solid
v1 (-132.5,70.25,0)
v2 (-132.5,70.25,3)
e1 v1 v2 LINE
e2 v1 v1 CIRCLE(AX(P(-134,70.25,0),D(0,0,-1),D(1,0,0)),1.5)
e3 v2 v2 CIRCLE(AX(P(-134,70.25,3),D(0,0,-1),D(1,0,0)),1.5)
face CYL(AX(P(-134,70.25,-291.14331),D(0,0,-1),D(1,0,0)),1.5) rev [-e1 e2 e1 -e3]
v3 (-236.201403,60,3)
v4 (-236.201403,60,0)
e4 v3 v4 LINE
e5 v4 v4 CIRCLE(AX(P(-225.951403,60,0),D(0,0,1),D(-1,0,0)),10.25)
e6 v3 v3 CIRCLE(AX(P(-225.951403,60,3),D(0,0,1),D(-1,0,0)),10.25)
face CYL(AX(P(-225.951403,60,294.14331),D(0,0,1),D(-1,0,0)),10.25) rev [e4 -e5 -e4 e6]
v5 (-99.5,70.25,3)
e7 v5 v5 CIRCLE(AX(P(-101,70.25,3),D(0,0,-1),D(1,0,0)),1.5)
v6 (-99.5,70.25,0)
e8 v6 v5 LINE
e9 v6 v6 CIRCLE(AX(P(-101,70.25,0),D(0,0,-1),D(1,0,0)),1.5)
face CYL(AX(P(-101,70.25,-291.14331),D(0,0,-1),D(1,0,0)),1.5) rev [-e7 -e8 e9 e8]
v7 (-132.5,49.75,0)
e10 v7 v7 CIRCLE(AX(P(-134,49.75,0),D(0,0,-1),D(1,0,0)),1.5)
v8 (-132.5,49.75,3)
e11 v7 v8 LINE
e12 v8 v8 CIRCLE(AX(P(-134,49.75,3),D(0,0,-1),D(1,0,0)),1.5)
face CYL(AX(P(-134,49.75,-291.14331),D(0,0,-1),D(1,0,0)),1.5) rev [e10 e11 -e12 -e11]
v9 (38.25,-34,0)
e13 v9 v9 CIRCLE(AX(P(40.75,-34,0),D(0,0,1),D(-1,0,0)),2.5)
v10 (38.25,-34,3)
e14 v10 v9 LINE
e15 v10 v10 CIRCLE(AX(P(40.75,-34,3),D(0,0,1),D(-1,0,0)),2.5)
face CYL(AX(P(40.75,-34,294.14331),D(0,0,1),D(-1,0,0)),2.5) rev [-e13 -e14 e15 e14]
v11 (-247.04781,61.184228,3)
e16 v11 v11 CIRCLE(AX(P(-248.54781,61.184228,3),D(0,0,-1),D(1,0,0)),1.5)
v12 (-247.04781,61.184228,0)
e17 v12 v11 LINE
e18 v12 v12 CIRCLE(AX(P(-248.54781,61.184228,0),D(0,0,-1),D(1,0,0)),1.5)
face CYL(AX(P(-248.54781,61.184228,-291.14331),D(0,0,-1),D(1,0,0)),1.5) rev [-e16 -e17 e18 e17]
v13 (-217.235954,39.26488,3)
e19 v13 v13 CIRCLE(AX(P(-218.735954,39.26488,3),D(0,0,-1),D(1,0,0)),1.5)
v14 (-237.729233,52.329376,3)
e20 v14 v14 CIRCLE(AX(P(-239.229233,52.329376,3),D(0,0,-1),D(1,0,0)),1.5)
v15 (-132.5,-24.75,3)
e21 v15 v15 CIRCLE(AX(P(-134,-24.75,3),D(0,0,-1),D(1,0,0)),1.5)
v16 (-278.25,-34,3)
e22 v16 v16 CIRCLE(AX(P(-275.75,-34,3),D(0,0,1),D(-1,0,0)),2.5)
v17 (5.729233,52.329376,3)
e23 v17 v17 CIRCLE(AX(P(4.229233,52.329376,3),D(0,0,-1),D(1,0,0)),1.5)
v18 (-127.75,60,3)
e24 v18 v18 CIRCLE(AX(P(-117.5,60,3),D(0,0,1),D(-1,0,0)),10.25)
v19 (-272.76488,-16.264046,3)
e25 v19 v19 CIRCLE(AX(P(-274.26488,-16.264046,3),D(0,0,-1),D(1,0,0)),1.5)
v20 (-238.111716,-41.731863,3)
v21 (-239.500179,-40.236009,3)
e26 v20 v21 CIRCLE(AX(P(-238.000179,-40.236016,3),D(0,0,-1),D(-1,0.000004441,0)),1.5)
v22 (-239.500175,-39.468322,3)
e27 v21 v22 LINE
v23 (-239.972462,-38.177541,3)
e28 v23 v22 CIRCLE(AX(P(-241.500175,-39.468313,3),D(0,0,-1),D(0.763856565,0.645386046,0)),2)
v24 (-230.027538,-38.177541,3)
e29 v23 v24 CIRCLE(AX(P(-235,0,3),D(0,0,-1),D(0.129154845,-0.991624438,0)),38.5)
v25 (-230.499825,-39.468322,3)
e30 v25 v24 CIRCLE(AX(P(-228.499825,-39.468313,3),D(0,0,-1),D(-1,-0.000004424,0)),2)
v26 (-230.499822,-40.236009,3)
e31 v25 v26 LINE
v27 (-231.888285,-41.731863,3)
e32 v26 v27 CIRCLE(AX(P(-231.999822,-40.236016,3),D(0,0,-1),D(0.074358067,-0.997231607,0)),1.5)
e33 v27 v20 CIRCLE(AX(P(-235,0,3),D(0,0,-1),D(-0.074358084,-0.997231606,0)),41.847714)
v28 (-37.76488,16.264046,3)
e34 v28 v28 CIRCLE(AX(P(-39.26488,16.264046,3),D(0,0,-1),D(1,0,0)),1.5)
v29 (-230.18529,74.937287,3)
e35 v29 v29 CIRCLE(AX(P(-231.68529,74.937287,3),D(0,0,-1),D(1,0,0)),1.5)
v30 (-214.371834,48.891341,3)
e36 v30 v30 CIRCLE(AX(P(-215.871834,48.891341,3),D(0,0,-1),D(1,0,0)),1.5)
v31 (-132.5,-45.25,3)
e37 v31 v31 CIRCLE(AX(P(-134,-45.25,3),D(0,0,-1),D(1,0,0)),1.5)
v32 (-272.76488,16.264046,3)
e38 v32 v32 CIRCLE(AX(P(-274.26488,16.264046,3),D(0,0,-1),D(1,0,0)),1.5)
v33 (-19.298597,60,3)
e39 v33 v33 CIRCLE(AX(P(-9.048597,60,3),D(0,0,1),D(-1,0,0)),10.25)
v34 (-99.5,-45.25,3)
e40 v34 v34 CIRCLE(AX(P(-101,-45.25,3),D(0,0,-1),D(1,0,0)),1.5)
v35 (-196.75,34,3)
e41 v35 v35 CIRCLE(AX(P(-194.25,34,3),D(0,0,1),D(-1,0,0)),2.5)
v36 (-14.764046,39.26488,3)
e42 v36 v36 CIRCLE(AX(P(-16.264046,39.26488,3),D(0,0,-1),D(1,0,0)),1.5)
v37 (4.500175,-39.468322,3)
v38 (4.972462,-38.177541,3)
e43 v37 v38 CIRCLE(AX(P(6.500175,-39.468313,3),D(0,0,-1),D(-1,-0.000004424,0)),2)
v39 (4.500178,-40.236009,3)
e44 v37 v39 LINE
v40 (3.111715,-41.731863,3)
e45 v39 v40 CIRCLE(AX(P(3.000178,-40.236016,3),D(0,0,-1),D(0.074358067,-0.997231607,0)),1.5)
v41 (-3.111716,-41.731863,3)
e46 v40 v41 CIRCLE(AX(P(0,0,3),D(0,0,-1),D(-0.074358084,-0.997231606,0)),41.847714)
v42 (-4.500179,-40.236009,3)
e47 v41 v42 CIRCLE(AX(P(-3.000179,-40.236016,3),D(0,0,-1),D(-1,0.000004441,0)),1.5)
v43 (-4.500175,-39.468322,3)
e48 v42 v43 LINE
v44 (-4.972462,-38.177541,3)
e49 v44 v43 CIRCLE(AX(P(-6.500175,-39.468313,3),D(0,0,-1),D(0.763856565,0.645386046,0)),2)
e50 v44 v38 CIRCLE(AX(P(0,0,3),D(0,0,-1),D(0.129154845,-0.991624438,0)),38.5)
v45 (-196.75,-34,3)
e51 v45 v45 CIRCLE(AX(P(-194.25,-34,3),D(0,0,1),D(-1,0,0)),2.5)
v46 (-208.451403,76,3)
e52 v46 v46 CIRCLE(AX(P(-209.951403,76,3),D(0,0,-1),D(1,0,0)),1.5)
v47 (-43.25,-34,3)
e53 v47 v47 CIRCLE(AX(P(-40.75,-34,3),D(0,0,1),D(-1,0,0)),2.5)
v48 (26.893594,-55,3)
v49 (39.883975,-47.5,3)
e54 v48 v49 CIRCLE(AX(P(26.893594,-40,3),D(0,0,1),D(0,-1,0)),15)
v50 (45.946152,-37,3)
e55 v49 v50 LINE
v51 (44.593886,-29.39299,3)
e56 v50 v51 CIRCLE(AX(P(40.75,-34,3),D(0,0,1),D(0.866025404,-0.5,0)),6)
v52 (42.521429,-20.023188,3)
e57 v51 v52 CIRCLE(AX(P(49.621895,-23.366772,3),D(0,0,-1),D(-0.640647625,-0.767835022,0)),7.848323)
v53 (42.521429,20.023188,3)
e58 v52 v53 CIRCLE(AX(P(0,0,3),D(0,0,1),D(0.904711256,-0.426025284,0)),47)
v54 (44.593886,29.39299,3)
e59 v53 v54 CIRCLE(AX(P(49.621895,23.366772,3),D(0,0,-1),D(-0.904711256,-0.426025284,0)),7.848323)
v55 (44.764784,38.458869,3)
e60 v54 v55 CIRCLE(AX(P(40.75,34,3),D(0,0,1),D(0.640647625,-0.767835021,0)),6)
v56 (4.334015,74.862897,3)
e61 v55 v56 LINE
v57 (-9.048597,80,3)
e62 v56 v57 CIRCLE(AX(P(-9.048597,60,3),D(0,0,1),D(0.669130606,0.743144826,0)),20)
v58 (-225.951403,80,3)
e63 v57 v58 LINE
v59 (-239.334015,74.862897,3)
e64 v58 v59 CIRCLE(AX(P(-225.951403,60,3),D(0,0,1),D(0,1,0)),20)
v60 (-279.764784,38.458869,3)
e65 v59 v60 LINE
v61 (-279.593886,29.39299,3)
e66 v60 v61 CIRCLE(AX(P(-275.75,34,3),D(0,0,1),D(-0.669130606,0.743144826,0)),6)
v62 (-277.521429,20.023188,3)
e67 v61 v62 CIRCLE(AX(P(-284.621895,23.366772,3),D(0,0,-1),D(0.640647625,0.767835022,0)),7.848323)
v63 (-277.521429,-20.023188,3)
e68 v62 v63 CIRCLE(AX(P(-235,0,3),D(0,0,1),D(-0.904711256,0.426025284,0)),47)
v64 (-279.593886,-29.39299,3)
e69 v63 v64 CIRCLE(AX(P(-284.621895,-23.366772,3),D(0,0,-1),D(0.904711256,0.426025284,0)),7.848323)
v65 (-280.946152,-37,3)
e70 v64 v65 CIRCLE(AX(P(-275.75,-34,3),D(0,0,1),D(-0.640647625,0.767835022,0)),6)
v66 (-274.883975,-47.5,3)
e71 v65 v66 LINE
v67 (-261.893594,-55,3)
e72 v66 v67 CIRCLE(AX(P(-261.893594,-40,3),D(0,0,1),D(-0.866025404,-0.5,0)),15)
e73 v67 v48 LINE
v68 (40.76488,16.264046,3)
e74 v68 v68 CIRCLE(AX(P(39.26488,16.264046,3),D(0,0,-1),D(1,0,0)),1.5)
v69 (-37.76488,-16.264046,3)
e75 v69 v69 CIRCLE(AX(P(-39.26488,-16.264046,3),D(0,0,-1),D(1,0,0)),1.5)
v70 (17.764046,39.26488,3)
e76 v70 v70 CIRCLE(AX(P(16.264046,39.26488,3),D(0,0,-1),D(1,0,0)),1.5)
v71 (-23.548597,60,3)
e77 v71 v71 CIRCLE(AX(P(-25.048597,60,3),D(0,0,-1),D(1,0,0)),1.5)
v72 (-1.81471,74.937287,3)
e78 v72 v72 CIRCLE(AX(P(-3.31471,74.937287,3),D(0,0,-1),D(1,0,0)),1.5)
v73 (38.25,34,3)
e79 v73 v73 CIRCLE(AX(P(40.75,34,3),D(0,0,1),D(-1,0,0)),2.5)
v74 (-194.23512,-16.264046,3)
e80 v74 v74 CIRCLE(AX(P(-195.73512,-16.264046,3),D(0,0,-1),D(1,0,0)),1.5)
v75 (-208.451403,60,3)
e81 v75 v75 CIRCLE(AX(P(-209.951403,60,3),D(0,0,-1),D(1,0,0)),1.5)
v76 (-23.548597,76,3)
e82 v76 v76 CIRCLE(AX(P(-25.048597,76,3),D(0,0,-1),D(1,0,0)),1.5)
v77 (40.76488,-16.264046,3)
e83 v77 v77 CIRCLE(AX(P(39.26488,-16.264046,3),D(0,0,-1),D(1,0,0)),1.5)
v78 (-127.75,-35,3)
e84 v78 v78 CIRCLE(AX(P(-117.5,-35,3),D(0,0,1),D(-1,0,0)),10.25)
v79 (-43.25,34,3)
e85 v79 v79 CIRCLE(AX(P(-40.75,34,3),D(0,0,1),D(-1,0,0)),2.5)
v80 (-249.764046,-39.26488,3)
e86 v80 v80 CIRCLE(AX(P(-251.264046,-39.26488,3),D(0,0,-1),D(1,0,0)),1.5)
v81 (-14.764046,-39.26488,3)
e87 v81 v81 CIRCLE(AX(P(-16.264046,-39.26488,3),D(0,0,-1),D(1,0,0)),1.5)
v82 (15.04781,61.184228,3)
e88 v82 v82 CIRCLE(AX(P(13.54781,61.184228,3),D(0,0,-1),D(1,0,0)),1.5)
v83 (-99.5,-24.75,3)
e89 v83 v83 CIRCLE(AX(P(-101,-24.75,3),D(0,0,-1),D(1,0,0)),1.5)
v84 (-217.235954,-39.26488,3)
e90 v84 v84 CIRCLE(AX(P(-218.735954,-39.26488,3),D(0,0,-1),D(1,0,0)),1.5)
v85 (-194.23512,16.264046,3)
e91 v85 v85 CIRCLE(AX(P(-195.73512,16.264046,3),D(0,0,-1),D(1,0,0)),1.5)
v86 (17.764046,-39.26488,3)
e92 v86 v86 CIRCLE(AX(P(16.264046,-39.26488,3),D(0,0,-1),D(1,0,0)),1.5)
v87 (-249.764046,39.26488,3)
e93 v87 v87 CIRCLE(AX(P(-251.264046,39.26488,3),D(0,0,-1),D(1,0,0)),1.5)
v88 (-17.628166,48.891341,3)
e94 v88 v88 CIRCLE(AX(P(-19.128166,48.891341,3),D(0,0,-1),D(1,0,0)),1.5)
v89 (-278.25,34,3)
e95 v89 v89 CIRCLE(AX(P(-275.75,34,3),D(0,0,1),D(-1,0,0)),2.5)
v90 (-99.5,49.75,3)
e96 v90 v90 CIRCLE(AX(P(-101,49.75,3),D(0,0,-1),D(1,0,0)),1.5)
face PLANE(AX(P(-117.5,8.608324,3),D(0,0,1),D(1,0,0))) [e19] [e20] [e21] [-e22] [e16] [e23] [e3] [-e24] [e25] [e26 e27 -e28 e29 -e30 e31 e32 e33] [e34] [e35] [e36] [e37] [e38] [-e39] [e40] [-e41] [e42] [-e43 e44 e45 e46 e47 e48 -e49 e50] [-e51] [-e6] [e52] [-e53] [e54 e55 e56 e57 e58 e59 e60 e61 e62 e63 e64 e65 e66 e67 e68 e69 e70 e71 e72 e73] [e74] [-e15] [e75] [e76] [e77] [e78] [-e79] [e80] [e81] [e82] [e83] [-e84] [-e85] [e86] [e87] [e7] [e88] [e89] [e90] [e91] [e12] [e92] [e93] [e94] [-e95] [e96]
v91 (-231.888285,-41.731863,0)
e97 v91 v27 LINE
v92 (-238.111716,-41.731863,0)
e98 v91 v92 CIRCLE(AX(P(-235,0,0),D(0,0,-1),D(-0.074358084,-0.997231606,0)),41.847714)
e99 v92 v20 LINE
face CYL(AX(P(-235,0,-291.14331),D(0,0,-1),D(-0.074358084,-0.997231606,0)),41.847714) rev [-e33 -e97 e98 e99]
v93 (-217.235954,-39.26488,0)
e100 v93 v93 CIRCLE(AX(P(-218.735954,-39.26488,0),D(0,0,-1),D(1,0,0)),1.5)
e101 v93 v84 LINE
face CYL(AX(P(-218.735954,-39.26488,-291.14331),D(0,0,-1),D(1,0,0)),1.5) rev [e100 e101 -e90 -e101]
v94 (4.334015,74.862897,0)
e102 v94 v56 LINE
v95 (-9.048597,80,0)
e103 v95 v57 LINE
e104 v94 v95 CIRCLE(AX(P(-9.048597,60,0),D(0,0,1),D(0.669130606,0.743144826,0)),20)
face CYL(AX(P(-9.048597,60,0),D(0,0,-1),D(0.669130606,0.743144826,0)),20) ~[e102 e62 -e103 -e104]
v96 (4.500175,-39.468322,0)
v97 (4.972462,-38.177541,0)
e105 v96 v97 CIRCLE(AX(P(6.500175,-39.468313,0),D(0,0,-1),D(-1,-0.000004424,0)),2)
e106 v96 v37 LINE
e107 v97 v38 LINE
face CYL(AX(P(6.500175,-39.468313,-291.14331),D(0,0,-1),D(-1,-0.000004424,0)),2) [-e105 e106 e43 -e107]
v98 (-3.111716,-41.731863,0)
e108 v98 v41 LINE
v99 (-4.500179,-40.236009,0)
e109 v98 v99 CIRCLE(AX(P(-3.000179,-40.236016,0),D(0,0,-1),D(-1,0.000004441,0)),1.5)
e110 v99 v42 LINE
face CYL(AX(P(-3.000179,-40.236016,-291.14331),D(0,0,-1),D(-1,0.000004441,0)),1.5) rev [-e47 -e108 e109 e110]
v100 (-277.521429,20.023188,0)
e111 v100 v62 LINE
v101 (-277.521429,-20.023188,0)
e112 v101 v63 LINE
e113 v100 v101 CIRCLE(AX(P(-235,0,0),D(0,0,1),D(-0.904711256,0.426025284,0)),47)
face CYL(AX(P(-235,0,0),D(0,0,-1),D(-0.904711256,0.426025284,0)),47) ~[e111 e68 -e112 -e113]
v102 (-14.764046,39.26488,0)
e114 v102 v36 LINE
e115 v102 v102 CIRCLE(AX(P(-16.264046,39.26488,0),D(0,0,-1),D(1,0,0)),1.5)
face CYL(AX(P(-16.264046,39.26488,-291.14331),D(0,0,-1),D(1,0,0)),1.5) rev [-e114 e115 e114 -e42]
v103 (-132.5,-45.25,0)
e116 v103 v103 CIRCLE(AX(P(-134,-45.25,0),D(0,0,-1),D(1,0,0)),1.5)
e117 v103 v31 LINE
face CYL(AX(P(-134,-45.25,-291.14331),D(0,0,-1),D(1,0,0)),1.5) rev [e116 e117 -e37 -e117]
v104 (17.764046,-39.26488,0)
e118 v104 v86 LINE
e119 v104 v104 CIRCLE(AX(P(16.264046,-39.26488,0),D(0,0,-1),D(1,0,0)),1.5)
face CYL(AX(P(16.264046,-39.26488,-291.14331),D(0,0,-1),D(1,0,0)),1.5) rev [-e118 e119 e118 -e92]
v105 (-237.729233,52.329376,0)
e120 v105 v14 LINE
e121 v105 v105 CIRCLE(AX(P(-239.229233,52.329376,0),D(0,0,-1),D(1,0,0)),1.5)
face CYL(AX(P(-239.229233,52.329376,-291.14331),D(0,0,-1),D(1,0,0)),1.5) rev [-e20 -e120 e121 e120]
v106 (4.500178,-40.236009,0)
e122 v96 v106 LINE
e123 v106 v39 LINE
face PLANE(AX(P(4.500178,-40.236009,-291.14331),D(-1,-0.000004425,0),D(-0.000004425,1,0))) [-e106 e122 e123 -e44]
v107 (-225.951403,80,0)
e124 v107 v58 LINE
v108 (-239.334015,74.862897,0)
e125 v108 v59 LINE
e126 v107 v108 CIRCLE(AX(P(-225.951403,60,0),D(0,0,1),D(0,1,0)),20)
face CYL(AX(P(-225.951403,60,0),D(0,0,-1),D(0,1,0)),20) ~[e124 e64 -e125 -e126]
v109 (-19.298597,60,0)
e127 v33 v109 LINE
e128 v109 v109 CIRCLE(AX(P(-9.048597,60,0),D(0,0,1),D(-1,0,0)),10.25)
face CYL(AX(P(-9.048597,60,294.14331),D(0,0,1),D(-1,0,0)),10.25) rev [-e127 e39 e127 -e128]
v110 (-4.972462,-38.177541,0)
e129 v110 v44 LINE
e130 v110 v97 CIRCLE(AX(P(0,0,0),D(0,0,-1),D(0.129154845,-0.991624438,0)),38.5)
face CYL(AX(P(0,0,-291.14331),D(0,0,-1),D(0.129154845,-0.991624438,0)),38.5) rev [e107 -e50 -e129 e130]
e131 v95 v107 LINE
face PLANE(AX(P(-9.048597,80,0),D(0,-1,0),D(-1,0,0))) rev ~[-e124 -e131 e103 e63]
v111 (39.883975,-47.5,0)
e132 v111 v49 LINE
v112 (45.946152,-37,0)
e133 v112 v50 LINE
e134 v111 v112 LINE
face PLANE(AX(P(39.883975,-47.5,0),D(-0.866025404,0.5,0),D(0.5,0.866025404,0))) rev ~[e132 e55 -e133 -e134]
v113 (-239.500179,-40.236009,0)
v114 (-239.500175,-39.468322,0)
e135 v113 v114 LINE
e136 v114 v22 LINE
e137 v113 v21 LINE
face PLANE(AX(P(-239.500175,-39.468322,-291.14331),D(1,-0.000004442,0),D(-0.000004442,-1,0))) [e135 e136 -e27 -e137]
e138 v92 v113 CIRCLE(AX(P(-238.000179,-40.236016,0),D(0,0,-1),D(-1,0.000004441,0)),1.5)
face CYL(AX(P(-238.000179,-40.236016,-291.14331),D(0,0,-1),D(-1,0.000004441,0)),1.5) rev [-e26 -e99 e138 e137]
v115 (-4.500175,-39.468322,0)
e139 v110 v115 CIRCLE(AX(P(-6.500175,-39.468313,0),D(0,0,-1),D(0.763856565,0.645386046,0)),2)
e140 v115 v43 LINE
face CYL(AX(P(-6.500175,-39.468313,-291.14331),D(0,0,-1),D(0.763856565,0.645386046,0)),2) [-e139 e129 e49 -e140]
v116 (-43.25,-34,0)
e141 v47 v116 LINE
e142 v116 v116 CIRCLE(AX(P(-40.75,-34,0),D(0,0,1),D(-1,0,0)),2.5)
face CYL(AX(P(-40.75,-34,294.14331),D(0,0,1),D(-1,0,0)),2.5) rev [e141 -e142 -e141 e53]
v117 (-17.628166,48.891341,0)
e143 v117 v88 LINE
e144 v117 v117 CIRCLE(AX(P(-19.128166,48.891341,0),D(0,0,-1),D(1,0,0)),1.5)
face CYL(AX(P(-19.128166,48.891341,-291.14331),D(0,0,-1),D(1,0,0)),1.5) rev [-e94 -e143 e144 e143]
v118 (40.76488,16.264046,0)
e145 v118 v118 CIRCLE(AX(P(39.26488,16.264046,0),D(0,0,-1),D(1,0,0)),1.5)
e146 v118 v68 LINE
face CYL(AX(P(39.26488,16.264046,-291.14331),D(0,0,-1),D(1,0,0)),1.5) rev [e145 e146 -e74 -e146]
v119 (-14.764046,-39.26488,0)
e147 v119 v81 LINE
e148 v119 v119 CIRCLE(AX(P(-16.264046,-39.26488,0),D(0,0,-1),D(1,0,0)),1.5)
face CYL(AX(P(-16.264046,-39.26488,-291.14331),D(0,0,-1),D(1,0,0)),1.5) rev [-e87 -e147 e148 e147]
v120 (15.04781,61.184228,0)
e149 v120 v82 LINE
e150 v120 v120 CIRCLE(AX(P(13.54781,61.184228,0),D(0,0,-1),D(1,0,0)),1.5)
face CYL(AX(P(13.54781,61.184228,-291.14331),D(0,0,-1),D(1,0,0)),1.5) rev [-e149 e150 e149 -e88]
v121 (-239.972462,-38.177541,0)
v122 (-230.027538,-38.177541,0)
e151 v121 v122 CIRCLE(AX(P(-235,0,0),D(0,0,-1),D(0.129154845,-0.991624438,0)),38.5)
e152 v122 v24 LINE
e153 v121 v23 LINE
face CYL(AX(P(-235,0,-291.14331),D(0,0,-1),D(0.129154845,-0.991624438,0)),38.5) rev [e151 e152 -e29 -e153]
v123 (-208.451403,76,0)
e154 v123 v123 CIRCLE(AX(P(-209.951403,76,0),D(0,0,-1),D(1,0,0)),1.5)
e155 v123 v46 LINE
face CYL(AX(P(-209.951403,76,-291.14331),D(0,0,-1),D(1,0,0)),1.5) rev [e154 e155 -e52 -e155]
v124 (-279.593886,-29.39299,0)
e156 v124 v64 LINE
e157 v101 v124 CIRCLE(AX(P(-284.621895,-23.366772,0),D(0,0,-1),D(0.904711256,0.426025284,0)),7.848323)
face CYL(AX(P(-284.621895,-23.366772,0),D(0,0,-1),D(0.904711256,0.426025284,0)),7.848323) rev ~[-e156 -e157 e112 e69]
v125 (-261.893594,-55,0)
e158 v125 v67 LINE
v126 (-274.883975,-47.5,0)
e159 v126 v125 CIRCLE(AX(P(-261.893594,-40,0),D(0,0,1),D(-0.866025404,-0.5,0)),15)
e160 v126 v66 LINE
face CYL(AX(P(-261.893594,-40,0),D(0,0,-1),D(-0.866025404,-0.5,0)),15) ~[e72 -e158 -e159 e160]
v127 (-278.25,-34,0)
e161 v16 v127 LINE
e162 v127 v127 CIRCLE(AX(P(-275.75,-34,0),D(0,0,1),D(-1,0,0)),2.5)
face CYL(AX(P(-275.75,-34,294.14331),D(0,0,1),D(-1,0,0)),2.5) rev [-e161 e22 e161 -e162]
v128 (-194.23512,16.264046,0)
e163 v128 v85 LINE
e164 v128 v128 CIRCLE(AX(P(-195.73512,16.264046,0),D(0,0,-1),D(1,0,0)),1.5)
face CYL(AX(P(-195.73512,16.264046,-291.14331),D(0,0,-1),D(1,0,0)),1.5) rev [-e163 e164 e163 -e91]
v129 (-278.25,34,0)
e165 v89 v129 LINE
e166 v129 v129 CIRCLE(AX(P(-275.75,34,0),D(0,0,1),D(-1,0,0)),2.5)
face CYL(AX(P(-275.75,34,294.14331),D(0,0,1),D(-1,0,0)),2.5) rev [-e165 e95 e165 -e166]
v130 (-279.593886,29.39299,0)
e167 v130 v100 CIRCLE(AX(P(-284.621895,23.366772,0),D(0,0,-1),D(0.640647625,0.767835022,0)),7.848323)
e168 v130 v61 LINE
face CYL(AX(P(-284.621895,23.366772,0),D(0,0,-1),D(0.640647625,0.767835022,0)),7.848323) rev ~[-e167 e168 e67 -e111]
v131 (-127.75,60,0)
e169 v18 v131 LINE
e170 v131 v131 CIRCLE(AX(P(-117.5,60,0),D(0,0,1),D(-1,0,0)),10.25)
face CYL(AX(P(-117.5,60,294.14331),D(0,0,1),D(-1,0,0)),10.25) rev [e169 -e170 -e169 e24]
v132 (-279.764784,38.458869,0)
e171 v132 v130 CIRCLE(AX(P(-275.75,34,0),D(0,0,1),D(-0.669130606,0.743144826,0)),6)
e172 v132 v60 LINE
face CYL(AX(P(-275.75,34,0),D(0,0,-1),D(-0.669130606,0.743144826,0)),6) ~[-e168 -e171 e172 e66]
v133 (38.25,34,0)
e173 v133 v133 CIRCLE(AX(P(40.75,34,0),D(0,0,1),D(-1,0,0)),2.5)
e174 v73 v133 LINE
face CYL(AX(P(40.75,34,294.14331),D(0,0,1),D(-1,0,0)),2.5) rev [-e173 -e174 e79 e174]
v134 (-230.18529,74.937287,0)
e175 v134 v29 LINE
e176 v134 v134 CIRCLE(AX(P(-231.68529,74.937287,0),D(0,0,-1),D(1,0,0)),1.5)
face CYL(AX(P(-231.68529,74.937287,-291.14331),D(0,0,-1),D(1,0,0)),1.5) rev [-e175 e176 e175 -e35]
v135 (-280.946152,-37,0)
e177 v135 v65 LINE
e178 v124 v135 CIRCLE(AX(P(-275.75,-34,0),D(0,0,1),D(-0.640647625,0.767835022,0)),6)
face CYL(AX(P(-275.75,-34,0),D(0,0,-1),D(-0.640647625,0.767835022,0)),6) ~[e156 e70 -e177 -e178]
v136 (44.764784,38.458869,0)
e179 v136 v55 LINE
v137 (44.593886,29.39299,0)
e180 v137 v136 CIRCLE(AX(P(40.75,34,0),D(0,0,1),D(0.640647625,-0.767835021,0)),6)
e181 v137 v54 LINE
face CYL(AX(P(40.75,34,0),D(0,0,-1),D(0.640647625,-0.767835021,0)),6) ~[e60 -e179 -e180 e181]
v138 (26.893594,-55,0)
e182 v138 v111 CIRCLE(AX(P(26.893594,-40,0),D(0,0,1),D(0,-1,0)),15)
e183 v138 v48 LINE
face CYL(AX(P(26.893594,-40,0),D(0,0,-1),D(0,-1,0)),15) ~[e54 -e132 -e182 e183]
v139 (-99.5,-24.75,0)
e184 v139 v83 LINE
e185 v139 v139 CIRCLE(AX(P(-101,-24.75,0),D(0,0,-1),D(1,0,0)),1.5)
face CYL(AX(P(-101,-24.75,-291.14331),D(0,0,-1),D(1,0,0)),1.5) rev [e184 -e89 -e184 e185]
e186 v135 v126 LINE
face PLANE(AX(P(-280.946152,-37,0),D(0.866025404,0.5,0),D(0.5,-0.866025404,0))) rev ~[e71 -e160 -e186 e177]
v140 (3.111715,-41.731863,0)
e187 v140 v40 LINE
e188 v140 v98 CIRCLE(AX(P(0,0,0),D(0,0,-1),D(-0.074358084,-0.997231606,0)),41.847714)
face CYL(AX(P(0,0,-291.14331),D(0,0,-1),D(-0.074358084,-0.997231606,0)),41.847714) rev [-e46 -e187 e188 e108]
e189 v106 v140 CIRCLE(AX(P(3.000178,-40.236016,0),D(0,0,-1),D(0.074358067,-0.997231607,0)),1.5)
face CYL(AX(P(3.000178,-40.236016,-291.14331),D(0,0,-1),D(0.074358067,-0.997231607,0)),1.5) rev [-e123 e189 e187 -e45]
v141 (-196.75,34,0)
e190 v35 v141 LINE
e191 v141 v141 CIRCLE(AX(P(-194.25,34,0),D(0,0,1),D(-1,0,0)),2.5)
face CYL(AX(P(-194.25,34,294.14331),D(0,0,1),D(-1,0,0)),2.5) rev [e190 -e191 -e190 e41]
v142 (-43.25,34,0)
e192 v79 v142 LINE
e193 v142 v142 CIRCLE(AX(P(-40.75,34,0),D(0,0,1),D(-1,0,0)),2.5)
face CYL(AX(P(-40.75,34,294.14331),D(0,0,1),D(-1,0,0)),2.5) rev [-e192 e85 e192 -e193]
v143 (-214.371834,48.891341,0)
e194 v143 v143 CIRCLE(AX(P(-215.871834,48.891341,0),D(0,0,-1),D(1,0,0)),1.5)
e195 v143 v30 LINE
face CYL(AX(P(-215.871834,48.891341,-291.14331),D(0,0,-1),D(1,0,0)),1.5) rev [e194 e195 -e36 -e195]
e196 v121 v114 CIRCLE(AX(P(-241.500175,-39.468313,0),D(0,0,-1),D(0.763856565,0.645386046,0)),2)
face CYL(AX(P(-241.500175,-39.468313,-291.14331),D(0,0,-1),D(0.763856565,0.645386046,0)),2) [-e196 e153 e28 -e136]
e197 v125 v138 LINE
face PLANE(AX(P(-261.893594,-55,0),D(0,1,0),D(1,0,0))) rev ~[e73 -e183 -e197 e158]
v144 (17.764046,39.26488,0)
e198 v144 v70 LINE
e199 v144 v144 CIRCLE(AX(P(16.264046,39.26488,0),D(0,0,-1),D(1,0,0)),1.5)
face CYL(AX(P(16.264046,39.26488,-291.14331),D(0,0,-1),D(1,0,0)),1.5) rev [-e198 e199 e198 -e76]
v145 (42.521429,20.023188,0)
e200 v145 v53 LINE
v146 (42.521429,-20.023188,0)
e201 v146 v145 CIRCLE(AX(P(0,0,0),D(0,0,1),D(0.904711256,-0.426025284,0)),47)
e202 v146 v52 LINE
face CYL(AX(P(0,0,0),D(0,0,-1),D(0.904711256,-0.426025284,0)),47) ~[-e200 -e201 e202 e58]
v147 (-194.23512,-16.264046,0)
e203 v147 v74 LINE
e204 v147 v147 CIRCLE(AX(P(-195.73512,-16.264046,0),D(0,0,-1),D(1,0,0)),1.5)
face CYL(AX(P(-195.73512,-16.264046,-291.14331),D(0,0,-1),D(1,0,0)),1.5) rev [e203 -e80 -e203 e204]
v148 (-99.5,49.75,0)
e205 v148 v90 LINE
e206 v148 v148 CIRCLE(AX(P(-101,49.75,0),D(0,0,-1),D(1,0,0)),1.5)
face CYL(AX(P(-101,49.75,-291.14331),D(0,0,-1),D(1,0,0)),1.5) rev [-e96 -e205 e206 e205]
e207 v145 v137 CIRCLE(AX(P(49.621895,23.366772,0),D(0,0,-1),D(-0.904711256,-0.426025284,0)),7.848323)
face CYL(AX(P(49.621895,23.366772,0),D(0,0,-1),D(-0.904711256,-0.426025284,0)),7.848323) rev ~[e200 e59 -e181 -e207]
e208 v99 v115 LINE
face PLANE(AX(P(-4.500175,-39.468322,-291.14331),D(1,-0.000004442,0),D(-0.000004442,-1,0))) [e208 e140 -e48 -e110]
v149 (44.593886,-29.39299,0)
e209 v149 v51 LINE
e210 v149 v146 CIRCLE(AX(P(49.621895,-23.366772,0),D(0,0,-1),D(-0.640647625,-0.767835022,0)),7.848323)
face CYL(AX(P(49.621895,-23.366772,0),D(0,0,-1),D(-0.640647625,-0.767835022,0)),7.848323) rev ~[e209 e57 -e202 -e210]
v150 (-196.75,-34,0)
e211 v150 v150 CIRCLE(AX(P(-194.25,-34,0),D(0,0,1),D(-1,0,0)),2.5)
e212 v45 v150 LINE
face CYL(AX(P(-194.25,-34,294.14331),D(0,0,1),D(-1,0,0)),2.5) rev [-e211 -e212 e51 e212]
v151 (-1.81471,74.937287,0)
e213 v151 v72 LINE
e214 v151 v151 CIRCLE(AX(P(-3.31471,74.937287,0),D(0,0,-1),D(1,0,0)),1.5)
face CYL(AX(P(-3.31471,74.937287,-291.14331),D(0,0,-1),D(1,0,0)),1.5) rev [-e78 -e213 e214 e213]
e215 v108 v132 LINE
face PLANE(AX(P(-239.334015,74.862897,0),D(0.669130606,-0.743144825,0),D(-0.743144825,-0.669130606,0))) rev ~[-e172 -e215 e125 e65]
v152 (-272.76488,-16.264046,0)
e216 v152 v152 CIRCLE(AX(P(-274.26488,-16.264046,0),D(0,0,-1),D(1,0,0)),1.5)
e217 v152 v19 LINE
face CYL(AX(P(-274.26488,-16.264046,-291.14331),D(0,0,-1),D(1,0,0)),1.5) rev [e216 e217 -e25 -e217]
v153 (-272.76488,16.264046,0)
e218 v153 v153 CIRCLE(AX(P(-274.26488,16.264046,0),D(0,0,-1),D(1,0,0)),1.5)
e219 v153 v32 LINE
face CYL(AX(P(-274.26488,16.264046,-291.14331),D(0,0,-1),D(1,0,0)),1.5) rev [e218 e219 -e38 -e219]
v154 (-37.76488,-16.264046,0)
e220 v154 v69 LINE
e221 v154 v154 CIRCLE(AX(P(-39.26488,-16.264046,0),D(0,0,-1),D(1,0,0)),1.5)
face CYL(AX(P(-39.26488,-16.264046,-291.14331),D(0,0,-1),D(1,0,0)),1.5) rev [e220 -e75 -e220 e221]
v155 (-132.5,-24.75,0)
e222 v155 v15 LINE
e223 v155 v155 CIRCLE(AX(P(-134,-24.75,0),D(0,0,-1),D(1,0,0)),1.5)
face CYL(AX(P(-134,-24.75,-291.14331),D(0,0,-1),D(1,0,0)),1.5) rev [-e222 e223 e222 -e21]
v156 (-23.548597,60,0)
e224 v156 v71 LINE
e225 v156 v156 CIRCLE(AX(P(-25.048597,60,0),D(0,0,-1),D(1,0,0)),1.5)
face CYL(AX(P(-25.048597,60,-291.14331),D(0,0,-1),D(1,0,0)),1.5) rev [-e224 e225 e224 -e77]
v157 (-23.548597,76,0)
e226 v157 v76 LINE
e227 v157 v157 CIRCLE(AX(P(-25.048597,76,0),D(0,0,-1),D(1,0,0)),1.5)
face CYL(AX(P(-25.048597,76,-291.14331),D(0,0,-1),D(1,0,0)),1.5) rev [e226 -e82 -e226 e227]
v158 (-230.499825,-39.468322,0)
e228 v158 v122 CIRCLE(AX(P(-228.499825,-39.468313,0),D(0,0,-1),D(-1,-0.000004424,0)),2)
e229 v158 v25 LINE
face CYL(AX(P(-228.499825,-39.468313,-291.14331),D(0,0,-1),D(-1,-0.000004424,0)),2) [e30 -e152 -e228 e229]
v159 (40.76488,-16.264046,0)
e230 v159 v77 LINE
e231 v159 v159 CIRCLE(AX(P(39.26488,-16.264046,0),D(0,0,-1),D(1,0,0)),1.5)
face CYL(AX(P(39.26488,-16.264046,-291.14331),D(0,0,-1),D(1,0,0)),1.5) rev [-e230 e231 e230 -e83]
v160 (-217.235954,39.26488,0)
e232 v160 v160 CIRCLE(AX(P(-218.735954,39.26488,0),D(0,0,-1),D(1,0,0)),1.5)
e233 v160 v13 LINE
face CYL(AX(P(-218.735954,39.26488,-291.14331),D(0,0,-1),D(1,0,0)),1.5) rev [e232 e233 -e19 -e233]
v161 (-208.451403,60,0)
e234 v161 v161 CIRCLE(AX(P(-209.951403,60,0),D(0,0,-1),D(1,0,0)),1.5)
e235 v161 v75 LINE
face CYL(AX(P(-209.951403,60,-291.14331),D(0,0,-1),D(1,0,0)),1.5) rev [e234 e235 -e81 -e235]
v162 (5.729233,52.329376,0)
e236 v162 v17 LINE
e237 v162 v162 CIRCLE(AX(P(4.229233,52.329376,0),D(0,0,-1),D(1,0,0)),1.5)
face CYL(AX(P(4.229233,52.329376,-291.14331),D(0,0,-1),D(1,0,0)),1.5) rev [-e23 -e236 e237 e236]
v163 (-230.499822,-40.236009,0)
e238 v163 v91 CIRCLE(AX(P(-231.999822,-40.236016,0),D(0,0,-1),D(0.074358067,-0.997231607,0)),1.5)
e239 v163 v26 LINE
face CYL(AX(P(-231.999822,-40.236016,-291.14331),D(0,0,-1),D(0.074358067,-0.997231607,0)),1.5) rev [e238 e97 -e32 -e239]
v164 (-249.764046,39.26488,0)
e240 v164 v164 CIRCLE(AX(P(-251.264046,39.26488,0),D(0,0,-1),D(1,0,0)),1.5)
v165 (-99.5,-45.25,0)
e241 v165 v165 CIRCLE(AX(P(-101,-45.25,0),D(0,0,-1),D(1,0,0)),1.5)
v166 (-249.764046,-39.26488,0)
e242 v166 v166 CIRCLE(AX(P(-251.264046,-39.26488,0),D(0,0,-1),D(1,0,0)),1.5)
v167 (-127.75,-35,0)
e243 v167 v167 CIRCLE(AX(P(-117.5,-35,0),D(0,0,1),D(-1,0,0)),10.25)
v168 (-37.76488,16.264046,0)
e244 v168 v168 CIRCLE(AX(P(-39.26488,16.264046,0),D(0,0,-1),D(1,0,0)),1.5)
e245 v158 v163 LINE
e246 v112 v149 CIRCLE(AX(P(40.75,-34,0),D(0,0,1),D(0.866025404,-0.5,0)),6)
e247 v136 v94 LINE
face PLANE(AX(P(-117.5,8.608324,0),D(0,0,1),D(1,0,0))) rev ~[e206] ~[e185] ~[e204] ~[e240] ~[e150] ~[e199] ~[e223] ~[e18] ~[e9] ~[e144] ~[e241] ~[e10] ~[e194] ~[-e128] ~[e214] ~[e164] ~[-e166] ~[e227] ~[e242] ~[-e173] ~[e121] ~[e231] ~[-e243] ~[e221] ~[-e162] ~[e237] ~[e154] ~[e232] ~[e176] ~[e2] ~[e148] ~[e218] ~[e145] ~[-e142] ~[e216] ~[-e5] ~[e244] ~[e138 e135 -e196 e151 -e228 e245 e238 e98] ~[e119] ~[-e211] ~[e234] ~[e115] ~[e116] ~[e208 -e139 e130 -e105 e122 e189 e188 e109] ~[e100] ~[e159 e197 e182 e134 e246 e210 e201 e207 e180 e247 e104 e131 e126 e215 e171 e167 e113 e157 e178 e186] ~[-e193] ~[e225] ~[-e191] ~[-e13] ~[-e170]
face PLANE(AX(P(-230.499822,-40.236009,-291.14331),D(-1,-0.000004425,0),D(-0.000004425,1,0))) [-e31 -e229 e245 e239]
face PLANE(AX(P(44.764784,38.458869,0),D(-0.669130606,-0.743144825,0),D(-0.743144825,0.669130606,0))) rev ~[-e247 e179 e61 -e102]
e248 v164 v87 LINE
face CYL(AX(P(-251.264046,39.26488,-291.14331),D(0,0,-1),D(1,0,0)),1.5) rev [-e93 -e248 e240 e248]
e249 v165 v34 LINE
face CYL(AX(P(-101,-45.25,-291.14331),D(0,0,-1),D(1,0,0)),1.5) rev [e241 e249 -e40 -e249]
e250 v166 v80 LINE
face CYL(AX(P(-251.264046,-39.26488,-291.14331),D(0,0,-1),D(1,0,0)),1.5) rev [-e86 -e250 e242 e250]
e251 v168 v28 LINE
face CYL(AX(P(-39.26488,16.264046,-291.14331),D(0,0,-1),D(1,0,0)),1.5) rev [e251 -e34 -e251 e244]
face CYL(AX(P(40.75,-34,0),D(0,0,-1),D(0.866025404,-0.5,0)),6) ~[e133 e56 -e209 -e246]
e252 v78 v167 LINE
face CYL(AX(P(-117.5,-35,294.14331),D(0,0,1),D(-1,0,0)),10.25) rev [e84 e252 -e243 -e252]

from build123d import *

# Parameters (mm, degrees)
SKETCH_1_R               = 23.74347741
EXTRUDE_1_DEPTH          = 3
CUT_EXTRUDE_1_DEPTH      = 294.143309663
CUT_EXTRUDE_1_DEPTH_BACK = 294.143309663
SKETCH_2_R               = 2.5
CUT_EXTRUDE_2_DEPTH      = 294.143309663
CUT_EXTRUDE_2_DEPTH_BACK = 294.143309663
SKETCH_3_R               = 1.5
CUT_EXTRUDE_3_DEPTH      = 294.143309663
CUT_EXTRUDE_3_DEPTH_BACK = 294.143309663
SKETCH_4_R               = 10.25
CUT_EXTRUDE_4_DEPTH      = 294.143309663
CUT_EXTRUDE_4_DEPTH_BACK = 294.143309663
SKETCH_5_R               = 1.5
CUT_EXTRUDE_5_DEPTH      = 294.143309663
CUT_EXTRUDE_5_DEPTH_BACK = 294.143309663
SKETCH_6_R               = 1.5
CUT_EXTRUDE_6_DEPTH      = 294.143309663
CUT_EXTRUDE_6_DEPTH_BACK = 294.143309663
SKETCH_7_R               = 1.5


with BuildPart() as part:
    # 草图1 → 凸台-拉伸1 (new body)
    with BuildSketch(Plane.XY):
        with BuildLine():
            Line((44.764783638, 38.458868953), (4.334015044, 74.86289651))
            ThreePointArc((4.334015044, 74.86289651), (-1.881238093, 78.67160853), (-9.048597084, 80))
            Line((-9.048597084, 80), (-225.951402916, 80))
            ThreePointArc((-225.951402916, 80), (-233.118761907, 78.67160853), (-239.334015044, 74.86289651))
            Line((-239.334015044, 74.86289651), (-279.764783638, 38.458868953))
            ThreePointArc((-279.764783638, 38.458868953), (-281.748934241, 33.886916076), (-279.593885752, 29.392989871))
            ThreePointArc((-279.593885752, 29.392989871), (-276.958783906, 25.06173547), (-277.521429039, 20.023188369))
            ThreePointArc((-277.521429039, 20.023188369), (-282, 0), (-277.521429039, -20.023188369))
            ThreePointArc((-277.521429039, -20.023188369), (-276.958783906, -25.06173547), (-279.593885752, -29.392989871))
            ThreePointArc((-279.593885752, -29.392989871), (-281.657387183, -32.949868258), (-280.946152423, -37))
            Line((-280.946152423, -37), (-274.883974596, -47.5))
            ThreePointArc((-274.883974596, -47.5), (-269.393593539, -52.990381057), (-261.893593539, -55))
            Line((-261.893593539, -55), (26.893593539, -55))
            ThreePointArc((26.893593539, -55), (34.393593539, -52.990381057), (39.883974596, -47.5))
            Line((39.883974596, -47.5), (45.946152423, -37))
            ThreePointArc((45.946152423, -37), (46.657387183, -32.949868258), (44.593885752, -29.392989871))
            ThreePointArc((44.593885752, -29.392989871), (41.958783906, -25.06173547), (42.521429039, -20.023188369))
            ThreePointArc((42.521429039, -20.023188369), (47, 0), (42.521429039, 20.023188369))
            ThreePointArc((42.521429039, 20.023188369), (41.958783906, 25.06173547), (44.593885752, 29.392989871))
            ThreePointArc((44.593885752, 29.392989871), (46.748934241, 33.886916076), (44.764783638, 38.458868953))
        make_face()
        Circle(SKETCH_1_R, mode=Mode.SUBTRACT)
        with Locations((-235, 0)):
            Circle(SKETCH_1_R, mode=Mode.SUBTRACT)
    extrude(amount=EXTRUDE_1_DEPTH)

    # 草图2 → 切除-拉伸1 (cut, two sides: drawn at the far end of the back side and taken through both)
    with BuildSketch(Plane(origin=(0, 0, 0), x_dir=(-1, 0, 0), z_dir=(0, 0, -1)).offset(-CUT_EXTRUDE_1_DEPTH_BACK)):
        with Locations((40.75, -34)):
            Circle(SKETCH_2_R)
        with Locations((40.75, 34)):
            Circle(SKETCH_2_R)
        with Locations((-40.75, 34)):
            Circle(SKETCH_2_R)
        with Locations((-40.75, -34)):
            Circle(SKETCH_2_R)
        with Locations((275.75, -34)):
            Circle(SKETCH_2_R)
        with Locations((275.75, 34)):
            Circle(SKETCH_2_R)
        with Locations((194.25, 34)):
            Circle(SKETCH_2_R)
        with Locations((194.25, -34)):
            Circle(SKETCH_2_R)
    extrude(amount=CUT_EXTRUDE_1_DEPTH + CUT_EXTRUDE_1_DEPTH_BACK, mode=Mode.SUBTRACT)

    # 草图3 → 切除-拉伸2 (cut, two sides: drawn at the far end of the back side and taken through both)
    with BuildSketch(Plane.XY.offset(3).offset(-CUT_EXTRUDE_2_DEPTH_BACK)):
        with Locations((-251.264045876, 39.264880132)):
            Circle(SKETCH_3_R)
        with Locations((-274.264880132, 16.264045876)):
            Circle(SKETCH_3_R)
        with Locations((-274.264880132, -16.264045876)):
            Circle(SKETCH_3_R)
        with Locations((-251.264045876, -39.264880132)):
            Circle(SKETCH_3_R)
        with Locations((-218.735954124, 39.264880132)):
            Circle(SKETCH_3_R)
        with Locations((-195.735119868, 16.264045876)):
            Circle(SKETCH_3_R)
        with Locations((-195.735119868, -16.264045876)):
            Circle(SKETCH_3_R)
        with Locations((-218.735954124, -39.264880132)):
            Circle(SKETCH_3_R)
        with Locations((-16.264045876, -39.264880132)):
            Circle(SKETCH_3_R)
        with Locations((-39.264880132, -16.264045876)):
            Circle(SKETCH_3_R)
        with Locations((-39.264880132, 16.264045876)):
            Circle(SKETCH_3_R)
        with Locations((-16.264045876, 39.264880132)):
            Circle(SKETCH_3_R)
        with Locations((16.264045876, 39.264880132)):
            Circle(SKETCH_3_R)
        with Locations((39.264880132, 16.264045876)):
            Circle(SKETCH_3_R)
        with Locations((39.264880132, -16.264045876)):
            Circle(SKETCH_3_R)
        with Locations((16.264045876, -39.264880132)):
            Circle(SKETCH_3_R)
        with BuildLine():
            Line((-239.500175319, -39.468321754), (-239.500178729, -40.236009311))
            ThreePointArc((-239.500178729, -40.236009311), (-239.099568481, -41.256477718), (-238.111715855, -41.731863382))
            ThreePointArc((-238.111715855, -41.731863382), (-235.000000357, -41.847714357), (-231.888284858, -41.731863435))
            ThreePointArc((-231.888284858, -41.731863435), (-230.900432223, -41.256477788), (-230.499821958, -40.236009387))
            Line((-230.499821958, -40.236009387), (-230.499825355, -39.468321831))
            ThreePointArc((-230.499825355, -39.468321831), (-230.378047604, -38.781085812), (-230.027538462, -38.177540862))
            ThreePointArc((-230.027538462, -38.177540862), (-234.999999671, 38.5), (-239.97246219, -38.177540777))
            ThreePointArc((-239.97246219, -38.177540777), (-239.621953058, -38.781085733), (-239.500175319, -39.468321754))
        make_face()
        with BuildLine():
            Line((-4.500175319, -39.468321754), (-4.500178729, -40.236009311))
            ThreePointArc((-4.500178729, -40.236009311), (-4.099568481, -41.256477718), (-3.111715855, -41.731863382))
            ThreePointArc((-3.111715855, -41.731863382), (-3.57e-07, -41.847714357), (3.111715142, -41.731863435))
            ThreePointArc((3.111715142, -41.731863435), (4.099567777, -41.256477788), (4.500178042, -40.236009387))
            Line((4.500178042, -40.236009387), (4.500174645, -39.468321831))
            ThreePointArc((4.500174645, -39.468321831), (4.621952396, -38.781085812), (4.972461538, -38.177540862))
            ThreePointArc((4.972461538, -38.177540862), (3.29e-07, 38.5), (-4.97246219, -38.177540777))
            ThreePointArc((-4.97246219, -38.177540777), (-4.621953058, -38.781085733), (-4.500175319, -39.468321754))
        make_face()
    extrude(amount=CUT_EXTRUDE_2_DEPTH + CUT_EXTRUDE_2_DEPTH_BACK, mode=Mode.SUBTRACT)

    # 草图4 → 切除-拉伸3 (cut, two sides: drawn at the far end of the back side and taken through both)
    with BuildSketch(Plane(origin=(0, 0, 0), x_dir=(-1, 0, 0), z_dir=(0, 0, -1)).offset(-CUT_EXTRUDE_3_DEPTH_BACK)):
        with Locations((225.951402916, 60)):
            Circle(SKETCH_4_R)
        with Locations((9.048597084, 60)):
            Circle(SKETCH_4_R)
        with Locations((117.5, -35)):
            Circle(SKETCH_4_R)
        with Locations((117.5, 60)):
            Circle(SKETCH_4_R)
    extrude(amount=CUT_EXTRUDE_3_DEPTH + CUT_EXTRUDE_3_DEPTH_BACK, mode=Mode.SUBTRACT)

    # 草图5 → 切除-拉伸4 (cut, two sides: drawn at the far end of the back side and taken through both)
    with BuildSketch(Plane.XY.offset(3).offset(-CUT_EXTRUDE_4_DEPTH_BACK)):
        with Locations((-134, -24.75)):
            Circle(SKETCH_5_R)
        with Locations((-134, -45.25)):
            Circle(SKETCH_5_R)
        with Locations((-101, -45.25)):
            Circle(SKETCH_5_R)
        with Locations((-101, -24.75)):
            Circle(SKETCH_5_R)
    extrude(amount=CUT_EXTRUDE_4_DEPTH + CUT_EXTRUDE_4_DEPTH_BACK, mode=Mode.SUBTRACT)

    # 草图6 → 切除-拉伸5 (cut, two sides: drawn at the far end of the back side and taken through both)
    with BuildSketch(Plane.XY.offset(3).offset(-CUT_EXTRUDE_5_DEPTH_BACK)):
        with Locations((-209.951402916, 76)):
            Circle(SKETCH_6_R)
        with Locations((-209.951402916, 60)):
            Circle(SKETCH_6_R)
        with Locations((-215.871834176, 48.891341485)):
            Circle(SKETCH_6_R)
        with Locations((-231.685290109, 74.937286824)):
            Circle(SKETCH_6_R)
        with Locations((-248.547809826, 61.184227506)):
            Circle(SKETCH_6_R)
        with Locations((-239.229232955, 52.329375962)):
            Circle(SKETCH_6_R)
        with Locations((4.229232955, 52.329375962)):
            Circle(SKETCH_6_R)
        with Locations((-19.128165824, 48.891341485)):
            Circle(SKETCH_6_R)
        with Locations((-25.048597084, 60)):
            Circle(SKETCH_6_R)
        with Locations((-25.048597084, 76)):
            Circle(SKETCH_6_R)
        with Locations((-3.314709891, 74.937286824)):
            Circle(SKETCH_6_R)
        with Locations((13.547809826, 61.184227506)):
            Circle(SKETCH_6_R)
    extrude(amount=CUT_EXTRUDE_5_DEPTH + CUT_EXTRUDE_5_DEPTH_BACK, mode=Mode.SUBTRACT)

    # 草图7 → 切除-拉伸6 (cut, two sides: drawn at the far end of the back side and taken through both)
    with BuildSketch(Plane.XY.offset(3).offset(-CUT_EXTRUDE_6_DEPTH_BACK)):
        with Locations((-134, 49.75)):
            Circle(SKETCH_7_R)
        with Locations((-134, 70.25)):
            Circle(SKETCH_7_R)
        with Locations((-101, 70.25)):
            Circle(SKETCH_7_R)
        with Locations((-101, 49.75)):
            Circle(SKETCH_7_R)
    extrude(amount=CUT_EXTRUDE_6_DEPTH + CUT_EXTRUDE_6_DEPTH_BACK, mode=Mode.SUBTRACT)


solid = part.part
